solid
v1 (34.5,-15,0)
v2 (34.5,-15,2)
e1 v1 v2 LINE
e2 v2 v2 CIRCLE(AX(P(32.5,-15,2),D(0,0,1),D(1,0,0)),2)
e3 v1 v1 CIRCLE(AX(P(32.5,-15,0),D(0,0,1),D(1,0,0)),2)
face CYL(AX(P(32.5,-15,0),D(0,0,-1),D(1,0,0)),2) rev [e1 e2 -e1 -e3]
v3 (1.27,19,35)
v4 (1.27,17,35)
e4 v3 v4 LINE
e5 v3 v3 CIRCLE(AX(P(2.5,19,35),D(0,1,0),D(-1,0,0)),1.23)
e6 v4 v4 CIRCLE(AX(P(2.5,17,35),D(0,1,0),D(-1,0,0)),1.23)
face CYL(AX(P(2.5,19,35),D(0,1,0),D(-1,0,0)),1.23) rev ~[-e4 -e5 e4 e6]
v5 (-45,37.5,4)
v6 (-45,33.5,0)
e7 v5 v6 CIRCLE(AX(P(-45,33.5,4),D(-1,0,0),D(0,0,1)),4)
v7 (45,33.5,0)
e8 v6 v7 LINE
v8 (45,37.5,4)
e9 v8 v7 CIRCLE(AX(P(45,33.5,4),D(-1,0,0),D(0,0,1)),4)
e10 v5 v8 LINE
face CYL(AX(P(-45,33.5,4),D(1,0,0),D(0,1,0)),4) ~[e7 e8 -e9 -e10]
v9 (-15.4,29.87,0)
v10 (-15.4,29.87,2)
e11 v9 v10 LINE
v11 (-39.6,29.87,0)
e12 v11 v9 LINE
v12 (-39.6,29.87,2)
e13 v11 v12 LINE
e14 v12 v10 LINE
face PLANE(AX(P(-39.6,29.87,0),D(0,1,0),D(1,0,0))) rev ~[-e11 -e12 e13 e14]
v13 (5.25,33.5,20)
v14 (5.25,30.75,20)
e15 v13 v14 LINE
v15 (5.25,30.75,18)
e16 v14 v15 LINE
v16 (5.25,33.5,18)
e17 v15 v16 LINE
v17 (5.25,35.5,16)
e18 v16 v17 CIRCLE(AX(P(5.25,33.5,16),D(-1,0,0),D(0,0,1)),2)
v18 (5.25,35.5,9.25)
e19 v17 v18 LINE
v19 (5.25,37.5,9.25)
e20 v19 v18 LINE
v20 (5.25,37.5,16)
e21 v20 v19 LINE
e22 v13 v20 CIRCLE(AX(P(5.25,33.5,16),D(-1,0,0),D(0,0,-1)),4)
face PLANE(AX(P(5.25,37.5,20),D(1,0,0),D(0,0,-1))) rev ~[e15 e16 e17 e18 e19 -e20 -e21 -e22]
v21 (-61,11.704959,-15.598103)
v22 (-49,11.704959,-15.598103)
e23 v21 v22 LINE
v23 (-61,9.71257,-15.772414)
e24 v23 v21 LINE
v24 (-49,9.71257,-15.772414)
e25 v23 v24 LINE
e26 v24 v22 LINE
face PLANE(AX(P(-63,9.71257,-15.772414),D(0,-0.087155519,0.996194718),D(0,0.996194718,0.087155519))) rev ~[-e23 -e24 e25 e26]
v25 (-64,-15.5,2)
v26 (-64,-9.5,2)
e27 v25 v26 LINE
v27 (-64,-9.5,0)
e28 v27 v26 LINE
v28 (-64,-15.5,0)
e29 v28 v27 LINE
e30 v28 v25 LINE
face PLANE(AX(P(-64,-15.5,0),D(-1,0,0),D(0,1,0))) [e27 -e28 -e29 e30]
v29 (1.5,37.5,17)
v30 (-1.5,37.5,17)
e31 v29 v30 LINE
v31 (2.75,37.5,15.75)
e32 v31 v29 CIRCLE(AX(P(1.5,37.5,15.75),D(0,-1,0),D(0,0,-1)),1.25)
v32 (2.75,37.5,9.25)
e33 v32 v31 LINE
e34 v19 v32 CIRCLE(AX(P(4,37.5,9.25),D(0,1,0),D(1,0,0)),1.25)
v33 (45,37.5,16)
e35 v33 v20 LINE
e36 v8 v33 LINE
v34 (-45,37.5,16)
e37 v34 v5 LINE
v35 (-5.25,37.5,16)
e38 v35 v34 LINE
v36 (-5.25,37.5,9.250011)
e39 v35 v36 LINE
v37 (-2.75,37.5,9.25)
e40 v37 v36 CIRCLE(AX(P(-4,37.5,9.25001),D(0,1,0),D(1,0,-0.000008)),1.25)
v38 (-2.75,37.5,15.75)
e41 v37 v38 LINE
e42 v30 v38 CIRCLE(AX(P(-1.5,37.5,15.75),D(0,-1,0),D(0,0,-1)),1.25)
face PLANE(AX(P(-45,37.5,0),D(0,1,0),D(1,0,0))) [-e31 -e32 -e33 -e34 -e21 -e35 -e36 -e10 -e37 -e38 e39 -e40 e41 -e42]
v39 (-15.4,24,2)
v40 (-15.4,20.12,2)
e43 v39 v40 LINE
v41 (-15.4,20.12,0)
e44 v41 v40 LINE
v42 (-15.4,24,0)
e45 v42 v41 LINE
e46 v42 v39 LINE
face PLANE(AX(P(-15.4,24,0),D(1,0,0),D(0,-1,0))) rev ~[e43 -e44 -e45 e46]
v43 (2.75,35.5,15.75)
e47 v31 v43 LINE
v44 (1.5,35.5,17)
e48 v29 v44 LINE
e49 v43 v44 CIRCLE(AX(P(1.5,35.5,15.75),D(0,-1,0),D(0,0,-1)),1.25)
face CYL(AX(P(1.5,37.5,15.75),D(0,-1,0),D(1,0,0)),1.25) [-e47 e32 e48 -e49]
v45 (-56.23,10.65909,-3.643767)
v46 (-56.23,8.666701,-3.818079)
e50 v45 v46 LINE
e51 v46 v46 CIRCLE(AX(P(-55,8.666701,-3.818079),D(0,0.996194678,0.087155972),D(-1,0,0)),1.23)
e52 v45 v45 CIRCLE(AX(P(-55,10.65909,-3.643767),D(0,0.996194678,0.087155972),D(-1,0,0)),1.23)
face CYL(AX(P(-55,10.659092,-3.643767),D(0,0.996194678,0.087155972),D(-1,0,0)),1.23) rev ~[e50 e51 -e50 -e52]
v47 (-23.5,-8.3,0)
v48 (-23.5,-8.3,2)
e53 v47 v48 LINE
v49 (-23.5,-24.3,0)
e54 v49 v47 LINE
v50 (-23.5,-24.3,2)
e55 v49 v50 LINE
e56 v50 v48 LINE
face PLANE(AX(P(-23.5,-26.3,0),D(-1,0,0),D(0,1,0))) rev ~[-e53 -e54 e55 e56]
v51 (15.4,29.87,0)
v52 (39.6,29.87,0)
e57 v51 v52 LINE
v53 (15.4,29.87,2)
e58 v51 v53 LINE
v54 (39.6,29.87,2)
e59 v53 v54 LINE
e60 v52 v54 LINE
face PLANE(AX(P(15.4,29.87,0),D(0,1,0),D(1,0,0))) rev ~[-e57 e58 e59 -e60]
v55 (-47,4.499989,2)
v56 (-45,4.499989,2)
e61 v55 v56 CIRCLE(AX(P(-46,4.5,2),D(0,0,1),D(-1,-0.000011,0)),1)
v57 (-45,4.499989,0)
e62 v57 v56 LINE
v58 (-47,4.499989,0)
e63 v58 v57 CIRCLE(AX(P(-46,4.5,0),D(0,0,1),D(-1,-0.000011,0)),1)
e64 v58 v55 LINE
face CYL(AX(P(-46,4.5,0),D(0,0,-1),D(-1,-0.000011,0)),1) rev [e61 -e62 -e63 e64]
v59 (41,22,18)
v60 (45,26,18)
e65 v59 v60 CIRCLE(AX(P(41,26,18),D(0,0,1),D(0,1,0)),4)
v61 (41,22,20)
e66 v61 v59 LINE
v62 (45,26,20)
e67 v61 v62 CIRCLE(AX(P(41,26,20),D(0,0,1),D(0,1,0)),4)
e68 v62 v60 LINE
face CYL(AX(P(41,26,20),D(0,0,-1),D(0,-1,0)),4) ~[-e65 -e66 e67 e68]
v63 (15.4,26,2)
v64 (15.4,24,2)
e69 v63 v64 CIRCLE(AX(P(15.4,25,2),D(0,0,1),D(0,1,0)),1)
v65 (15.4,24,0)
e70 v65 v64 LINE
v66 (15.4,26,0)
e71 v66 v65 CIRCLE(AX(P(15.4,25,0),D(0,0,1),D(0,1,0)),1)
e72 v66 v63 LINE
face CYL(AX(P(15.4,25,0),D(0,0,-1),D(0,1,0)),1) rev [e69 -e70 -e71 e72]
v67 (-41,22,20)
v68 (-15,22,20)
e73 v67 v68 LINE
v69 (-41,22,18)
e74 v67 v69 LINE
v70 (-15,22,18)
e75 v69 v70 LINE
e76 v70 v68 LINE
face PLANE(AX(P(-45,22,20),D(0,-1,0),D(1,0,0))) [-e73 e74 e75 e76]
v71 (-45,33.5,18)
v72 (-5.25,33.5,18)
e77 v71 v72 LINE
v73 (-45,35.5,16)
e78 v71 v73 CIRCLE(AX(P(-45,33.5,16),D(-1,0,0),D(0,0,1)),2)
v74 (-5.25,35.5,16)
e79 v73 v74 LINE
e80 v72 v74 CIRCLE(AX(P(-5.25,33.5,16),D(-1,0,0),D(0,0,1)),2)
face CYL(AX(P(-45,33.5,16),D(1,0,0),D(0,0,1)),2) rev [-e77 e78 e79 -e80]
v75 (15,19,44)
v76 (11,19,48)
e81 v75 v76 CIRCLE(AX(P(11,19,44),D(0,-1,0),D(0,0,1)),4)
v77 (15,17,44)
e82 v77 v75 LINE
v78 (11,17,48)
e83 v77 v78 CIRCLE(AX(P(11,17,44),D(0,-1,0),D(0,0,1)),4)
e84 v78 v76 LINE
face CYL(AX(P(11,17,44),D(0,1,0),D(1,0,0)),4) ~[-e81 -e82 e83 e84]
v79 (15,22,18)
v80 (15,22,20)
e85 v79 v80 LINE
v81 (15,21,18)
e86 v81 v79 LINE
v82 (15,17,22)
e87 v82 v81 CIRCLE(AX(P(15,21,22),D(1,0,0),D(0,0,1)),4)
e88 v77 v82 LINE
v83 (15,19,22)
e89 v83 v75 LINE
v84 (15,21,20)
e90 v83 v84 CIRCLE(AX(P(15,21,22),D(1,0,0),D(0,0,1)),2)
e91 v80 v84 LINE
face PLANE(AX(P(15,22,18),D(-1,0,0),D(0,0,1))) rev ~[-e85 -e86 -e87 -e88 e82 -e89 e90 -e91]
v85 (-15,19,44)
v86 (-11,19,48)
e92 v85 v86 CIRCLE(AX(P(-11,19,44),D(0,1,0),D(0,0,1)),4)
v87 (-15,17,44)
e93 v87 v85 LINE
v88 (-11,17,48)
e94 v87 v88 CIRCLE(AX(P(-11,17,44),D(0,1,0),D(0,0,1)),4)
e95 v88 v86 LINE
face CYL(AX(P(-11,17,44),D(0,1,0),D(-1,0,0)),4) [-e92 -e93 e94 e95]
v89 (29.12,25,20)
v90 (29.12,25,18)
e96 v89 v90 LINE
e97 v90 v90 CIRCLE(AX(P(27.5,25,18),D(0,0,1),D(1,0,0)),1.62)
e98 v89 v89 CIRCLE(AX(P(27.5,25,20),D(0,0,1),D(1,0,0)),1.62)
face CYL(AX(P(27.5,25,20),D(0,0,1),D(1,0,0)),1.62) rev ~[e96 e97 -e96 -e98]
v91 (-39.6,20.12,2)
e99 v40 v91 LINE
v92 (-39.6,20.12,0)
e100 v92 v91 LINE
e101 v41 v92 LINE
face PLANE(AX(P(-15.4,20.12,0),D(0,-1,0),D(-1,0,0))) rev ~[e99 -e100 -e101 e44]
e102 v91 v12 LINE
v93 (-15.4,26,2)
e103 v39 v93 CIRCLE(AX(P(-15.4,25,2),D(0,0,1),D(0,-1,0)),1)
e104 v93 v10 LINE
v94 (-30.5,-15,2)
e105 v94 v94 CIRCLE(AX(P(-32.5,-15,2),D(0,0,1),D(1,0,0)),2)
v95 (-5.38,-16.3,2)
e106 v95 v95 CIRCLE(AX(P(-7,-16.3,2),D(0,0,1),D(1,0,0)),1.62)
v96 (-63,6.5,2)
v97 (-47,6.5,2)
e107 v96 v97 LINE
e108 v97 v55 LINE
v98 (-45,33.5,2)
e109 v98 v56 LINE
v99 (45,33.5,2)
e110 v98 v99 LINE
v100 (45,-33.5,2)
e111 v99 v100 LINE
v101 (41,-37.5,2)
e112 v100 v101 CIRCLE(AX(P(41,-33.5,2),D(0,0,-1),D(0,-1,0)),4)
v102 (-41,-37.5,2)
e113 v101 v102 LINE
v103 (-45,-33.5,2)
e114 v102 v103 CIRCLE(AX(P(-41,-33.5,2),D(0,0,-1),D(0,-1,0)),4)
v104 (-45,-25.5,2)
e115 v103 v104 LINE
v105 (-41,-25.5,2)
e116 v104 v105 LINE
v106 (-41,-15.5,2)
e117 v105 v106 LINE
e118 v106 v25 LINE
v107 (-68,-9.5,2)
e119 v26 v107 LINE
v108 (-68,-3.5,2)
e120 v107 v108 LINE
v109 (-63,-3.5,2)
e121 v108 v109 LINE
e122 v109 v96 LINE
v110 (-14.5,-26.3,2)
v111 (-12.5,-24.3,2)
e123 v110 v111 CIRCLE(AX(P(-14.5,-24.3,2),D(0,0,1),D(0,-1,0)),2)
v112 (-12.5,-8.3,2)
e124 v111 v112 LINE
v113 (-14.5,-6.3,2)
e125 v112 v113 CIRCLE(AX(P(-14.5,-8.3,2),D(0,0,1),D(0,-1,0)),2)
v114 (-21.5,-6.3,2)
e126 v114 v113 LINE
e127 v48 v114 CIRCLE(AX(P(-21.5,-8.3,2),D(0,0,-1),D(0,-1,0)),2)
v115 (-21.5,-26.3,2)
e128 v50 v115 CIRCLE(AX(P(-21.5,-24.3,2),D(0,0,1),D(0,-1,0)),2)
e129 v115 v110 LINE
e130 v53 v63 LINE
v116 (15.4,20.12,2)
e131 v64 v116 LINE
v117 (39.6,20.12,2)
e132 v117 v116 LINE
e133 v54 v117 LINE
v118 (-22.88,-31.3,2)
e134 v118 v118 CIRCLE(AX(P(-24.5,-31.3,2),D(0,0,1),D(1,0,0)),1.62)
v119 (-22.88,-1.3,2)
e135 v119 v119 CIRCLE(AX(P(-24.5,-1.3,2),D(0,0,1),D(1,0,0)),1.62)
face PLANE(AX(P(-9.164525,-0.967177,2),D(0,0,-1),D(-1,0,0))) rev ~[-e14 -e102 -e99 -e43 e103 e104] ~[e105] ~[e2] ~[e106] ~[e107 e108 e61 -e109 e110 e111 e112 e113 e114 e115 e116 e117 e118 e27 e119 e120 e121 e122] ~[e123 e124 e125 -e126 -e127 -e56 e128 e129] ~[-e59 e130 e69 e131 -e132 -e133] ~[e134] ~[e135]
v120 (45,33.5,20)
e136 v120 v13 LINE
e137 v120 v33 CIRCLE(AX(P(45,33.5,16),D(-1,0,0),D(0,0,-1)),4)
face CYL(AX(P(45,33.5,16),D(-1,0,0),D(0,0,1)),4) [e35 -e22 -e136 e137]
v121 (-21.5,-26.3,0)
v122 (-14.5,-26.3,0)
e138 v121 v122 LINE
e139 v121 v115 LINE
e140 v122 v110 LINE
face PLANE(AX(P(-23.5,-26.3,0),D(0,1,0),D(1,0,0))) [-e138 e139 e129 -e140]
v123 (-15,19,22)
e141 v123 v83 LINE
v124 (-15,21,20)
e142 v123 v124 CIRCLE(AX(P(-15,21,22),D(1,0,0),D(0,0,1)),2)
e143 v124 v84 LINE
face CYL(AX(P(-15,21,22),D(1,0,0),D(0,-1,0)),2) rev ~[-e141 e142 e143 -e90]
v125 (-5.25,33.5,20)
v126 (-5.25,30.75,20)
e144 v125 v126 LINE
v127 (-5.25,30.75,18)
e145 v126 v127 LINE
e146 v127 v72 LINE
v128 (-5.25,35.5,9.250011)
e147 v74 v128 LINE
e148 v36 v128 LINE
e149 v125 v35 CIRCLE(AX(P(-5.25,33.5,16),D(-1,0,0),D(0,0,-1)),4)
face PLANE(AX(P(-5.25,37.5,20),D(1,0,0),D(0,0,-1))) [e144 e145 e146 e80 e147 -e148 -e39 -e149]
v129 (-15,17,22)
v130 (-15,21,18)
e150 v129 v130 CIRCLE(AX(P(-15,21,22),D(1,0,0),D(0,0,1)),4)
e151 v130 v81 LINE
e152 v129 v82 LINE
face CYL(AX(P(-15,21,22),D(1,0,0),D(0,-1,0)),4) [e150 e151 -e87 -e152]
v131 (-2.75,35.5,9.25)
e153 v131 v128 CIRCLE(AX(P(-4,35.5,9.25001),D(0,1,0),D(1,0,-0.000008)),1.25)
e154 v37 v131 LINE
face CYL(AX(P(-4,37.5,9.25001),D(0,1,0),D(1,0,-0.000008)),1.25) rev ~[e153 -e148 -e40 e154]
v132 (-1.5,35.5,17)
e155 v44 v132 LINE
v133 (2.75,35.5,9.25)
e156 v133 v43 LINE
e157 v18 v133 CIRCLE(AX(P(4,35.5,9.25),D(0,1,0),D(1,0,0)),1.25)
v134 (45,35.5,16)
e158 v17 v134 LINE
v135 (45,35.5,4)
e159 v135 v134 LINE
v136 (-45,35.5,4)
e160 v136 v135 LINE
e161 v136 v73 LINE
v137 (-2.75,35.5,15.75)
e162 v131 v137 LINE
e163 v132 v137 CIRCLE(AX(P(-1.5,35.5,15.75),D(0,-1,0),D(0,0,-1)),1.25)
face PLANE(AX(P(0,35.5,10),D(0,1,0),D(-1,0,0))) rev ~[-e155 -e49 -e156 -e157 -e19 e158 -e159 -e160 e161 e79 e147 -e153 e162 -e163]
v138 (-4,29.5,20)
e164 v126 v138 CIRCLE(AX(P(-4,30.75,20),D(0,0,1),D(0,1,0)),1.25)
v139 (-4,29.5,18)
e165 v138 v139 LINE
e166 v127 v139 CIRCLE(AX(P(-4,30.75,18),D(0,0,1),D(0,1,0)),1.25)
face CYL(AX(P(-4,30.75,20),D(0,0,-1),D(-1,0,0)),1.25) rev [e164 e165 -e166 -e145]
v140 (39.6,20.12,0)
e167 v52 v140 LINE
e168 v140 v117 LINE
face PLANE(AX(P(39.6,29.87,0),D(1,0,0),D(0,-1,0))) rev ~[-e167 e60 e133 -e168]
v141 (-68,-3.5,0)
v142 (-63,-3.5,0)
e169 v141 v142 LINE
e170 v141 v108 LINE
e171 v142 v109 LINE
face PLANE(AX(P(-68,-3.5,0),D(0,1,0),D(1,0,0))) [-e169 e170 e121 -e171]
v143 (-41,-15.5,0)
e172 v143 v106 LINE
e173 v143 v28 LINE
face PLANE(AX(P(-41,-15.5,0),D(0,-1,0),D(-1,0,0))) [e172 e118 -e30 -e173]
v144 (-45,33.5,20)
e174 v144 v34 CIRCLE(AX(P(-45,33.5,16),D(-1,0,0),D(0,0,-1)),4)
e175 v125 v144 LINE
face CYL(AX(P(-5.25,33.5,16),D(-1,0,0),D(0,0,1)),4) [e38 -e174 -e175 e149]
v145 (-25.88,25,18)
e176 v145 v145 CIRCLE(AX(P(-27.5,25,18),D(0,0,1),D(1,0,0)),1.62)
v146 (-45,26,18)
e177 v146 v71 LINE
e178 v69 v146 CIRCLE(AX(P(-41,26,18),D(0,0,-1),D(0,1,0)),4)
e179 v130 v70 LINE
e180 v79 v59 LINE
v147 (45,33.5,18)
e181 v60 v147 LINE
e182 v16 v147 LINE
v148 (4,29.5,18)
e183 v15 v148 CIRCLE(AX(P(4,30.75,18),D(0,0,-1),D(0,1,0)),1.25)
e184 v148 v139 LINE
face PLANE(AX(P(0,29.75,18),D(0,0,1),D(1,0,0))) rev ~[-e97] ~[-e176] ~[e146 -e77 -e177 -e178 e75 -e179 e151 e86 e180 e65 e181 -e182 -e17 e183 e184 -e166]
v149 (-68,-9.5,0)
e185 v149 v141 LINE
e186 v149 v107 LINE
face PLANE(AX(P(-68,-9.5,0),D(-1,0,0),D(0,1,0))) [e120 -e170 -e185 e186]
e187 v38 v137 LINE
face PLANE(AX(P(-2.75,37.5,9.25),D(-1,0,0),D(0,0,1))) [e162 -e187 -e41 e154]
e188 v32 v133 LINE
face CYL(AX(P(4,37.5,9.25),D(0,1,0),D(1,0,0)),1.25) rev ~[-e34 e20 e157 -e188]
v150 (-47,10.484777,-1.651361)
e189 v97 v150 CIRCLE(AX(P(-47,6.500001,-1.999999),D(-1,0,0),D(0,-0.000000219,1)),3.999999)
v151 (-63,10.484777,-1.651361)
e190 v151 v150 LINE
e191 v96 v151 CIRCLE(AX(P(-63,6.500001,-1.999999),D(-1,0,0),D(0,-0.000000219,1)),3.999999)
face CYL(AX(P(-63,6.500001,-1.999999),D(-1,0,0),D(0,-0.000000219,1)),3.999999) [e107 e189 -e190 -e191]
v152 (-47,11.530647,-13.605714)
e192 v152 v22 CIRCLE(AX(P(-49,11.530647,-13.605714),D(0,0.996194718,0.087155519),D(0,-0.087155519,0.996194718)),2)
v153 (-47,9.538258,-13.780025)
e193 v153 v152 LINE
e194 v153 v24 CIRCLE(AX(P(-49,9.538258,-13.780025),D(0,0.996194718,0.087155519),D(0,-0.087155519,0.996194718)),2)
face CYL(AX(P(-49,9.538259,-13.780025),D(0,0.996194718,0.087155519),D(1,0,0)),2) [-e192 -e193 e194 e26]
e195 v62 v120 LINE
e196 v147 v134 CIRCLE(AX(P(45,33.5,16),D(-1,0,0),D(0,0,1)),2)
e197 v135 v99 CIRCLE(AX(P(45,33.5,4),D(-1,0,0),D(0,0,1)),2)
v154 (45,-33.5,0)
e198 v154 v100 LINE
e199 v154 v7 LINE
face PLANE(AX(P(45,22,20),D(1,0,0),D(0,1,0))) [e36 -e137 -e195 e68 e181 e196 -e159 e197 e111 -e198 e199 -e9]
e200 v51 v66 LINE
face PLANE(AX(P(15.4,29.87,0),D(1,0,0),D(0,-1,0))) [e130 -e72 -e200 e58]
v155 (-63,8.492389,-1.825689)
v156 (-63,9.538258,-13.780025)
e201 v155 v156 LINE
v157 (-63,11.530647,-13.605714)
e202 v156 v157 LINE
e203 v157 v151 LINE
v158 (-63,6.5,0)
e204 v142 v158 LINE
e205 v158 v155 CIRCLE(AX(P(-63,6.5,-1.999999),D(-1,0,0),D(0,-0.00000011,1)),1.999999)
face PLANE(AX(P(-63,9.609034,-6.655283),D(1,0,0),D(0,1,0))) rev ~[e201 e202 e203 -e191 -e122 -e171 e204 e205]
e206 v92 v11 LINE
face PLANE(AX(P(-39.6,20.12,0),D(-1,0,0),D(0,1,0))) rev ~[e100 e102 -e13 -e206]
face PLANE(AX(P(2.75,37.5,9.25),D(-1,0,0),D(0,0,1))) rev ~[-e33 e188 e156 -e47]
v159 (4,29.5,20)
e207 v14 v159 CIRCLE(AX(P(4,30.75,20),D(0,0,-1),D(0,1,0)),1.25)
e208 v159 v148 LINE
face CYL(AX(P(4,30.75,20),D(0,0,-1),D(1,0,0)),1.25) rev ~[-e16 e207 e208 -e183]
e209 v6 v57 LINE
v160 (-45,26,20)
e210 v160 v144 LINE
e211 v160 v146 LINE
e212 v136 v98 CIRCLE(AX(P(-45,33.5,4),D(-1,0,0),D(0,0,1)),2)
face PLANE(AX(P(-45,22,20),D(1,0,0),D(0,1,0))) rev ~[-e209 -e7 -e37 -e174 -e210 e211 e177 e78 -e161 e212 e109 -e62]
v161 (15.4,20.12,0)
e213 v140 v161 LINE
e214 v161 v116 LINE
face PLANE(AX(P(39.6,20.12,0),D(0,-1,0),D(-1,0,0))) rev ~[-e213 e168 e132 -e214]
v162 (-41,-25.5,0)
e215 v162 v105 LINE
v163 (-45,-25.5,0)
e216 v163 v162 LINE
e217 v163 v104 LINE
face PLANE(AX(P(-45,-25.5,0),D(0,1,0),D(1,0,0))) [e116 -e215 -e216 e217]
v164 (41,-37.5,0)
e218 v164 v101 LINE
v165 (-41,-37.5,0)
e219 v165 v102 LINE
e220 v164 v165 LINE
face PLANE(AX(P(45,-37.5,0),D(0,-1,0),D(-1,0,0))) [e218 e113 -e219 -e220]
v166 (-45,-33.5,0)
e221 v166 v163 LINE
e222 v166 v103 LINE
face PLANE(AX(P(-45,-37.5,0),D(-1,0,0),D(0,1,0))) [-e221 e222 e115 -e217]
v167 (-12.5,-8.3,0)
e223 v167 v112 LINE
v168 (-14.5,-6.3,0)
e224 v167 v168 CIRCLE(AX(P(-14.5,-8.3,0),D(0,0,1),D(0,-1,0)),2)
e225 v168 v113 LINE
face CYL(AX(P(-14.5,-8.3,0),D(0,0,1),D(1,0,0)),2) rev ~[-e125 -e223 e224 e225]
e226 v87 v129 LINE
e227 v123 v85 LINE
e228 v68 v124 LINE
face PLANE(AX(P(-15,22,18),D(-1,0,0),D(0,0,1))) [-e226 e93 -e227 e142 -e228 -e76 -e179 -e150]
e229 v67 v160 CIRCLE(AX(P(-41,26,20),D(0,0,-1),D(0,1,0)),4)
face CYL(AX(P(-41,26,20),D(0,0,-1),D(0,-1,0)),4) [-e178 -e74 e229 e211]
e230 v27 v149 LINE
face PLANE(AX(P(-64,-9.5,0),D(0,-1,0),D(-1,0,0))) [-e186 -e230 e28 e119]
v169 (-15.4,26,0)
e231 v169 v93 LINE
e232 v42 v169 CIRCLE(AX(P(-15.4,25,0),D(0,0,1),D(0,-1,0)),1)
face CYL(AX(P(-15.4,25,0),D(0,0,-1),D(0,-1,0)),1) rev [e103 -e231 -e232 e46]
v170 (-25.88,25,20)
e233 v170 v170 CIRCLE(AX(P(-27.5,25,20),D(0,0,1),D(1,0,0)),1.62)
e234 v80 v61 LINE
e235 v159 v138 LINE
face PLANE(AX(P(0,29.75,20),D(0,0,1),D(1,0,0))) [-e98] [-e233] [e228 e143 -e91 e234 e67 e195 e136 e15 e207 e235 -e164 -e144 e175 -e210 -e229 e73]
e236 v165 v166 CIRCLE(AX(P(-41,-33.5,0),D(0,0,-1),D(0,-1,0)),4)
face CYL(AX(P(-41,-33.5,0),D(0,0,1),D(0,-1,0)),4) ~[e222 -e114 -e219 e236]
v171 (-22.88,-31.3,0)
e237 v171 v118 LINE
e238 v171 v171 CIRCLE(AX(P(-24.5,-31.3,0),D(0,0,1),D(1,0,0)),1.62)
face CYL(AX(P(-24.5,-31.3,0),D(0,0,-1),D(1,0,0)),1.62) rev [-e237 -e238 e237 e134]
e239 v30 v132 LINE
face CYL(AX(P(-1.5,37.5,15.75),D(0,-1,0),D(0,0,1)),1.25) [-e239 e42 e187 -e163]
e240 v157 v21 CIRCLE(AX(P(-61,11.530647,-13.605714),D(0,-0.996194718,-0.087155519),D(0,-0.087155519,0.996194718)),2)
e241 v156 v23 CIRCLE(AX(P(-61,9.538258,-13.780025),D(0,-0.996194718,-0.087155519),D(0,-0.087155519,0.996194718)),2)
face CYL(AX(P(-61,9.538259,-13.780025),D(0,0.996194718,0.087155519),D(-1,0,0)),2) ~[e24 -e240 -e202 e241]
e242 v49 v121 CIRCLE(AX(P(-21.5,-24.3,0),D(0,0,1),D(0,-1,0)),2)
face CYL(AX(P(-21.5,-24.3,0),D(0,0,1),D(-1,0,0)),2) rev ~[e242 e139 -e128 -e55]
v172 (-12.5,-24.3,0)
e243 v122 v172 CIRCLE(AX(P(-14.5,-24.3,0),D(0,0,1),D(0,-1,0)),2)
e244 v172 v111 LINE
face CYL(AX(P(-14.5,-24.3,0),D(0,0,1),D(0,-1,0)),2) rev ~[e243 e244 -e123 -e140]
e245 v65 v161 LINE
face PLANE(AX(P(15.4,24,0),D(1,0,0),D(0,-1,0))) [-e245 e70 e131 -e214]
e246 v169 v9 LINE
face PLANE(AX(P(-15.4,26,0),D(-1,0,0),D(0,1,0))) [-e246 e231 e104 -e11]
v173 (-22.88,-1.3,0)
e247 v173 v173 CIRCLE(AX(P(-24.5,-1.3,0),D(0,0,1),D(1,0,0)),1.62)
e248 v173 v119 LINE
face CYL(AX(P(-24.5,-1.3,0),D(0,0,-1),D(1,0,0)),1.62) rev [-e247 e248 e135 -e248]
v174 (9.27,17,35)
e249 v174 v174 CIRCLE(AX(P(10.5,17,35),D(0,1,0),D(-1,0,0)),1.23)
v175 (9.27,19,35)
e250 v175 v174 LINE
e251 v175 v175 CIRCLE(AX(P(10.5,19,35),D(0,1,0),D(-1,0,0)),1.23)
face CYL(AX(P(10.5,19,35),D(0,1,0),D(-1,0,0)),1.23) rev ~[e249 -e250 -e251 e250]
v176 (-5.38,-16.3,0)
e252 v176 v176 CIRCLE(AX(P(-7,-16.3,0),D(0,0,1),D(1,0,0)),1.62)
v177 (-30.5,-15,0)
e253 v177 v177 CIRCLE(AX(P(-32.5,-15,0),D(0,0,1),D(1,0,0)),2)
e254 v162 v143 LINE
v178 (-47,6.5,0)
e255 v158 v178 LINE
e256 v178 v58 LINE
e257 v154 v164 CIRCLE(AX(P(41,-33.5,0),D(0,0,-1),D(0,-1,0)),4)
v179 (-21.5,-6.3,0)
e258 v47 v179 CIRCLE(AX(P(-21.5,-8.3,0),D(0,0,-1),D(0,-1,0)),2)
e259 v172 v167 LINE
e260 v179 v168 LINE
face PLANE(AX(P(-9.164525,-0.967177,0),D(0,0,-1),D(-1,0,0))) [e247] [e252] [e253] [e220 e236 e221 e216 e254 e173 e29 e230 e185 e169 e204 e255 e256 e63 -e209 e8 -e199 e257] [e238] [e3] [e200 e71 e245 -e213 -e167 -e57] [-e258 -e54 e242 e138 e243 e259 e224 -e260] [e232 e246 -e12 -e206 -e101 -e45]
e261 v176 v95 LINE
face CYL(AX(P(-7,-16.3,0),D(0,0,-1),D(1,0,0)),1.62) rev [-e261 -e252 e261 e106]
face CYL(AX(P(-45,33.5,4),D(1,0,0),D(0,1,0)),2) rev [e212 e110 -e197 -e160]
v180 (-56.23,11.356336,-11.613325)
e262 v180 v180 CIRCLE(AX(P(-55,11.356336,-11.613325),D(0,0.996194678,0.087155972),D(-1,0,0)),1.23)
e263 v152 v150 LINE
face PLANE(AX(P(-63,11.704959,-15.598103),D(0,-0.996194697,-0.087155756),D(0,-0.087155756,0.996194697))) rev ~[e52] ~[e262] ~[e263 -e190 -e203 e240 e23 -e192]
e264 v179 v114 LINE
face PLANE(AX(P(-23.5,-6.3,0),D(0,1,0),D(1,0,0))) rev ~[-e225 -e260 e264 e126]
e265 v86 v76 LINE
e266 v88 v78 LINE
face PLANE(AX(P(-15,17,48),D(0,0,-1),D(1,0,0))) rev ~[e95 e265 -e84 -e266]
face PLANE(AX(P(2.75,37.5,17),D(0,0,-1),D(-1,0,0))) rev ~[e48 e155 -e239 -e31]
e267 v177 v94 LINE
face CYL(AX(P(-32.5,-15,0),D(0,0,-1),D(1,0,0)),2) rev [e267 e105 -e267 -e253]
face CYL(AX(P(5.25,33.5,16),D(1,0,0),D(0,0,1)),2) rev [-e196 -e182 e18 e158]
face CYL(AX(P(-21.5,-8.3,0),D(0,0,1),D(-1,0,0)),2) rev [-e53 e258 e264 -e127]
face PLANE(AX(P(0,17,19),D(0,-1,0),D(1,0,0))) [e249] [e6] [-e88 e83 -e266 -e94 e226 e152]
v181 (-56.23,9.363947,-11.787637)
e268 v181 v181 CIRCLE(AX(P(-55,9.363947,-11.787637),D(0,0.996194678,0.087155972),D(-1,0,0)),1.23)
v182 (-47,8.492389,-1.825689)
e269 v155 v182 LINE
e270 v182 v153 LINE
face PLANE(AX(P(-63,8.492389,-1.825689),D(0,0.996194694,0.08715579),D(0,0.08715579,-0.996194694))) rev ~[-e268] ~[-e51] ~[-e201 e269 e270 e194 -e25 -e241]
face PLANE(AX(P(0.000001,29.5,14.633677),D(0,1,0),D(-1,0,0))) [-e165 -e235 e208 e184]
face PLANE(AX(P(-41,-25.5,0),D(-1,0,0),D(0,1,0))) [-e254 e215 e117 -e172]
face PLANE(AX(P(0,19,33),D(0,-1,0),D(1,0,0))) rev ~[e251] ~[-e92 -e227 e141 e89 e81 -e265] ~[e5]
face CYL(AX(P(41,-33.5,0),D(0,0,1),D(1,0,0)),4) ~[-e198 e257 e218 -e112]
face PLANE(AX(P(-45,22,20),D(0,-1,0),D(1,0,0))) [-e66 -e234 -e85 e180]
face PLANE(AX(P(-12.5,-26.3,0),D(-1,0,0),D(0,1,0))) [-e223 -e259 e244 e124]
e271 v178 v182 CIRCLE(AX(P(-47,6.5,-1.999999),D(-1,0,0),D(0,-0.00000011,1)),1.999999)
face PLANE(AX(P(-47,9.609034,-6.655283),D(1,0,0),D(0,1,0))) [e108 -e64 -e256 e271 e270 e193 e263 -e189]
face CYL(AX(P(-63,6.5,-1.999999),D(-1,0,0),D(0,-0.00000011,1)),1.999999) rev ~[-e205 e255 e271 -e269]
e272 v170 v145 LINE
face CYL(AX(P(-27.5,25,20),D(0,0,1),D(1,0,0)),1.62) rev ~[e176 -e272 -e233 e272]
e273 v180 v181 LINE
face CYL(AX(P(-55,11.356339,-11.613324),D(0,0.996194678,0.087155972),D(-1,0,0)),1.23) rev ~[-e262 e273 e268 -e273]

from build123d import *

# Parameters (mm, degrees)
SKETCH_R        = 2
SKETCH_R_2      = 1.62
SKETCH_W        = 11
SKETCH_H        = 20
PAD_DEPTH       = 2
SKETCH001_W     = 90
SKETCH001_H     = 20
PAD001_DEPTH    = 2
SKETCH002_W     = 90
SKETCH002_H     = 15.5
PAD002_DEPTH    = 2
SKETCH003_W     = 30
SKETCH003_H     = 2
PAD003_DEPTH    = 5
SKETCH004_W     = 30
SKETCH004_H     = 30
PAD004_DEPTH    = 2
PAD005_DEPTH    = 16
SKETCH006_R     = 1.23
POCKET_DEPTH    = 5
SKETCH007_R     = 1.23
POCKET001_DEPTH = 5
SKETCH008_R     = 1.62
POCKET002_DEPTH = 5
POCKET003_DEPTH = 8
FILLET_R        = 1.25
FILLET001_R     = 4
FILLET002_R     = 2
FILLET003_R     = 4
FILLET004_R     = 4
FILLET005_R     = 4
FILLET006_R     = 2
FILLET007_R     = 2
FILLET008_R     = 4
FILLET009_R     = 2


with BuildPart() as part:
    # Sketch → Pad (new body)
    with BuildSketch(Plane.XY):
        with BuildLine():
            Line((-45, 37.5), (45, 37.5))
            Line((45, 37.5), (45, -37.5))
            Line((45, -37.5), (-45, -37.5))
            Line((-45, -37.5), (-45, -25.5))
            Line((-45, -25.5), (-41, -25.5))
            Line((-41, -25.5), (-41, -15.5))
            Line((-41, -15.5), (-64, -15.5))
            Line((-64, -15.5), (-64, -9.5))
            Line((-64, -9.5), (-68, -9.5))
            Line((-68, -9.5), (-68, -3.5))
            Line((-68, -3.5), (-63, -3.5))
            Line((-63, -3.5), (-63, 6.5))
            Line((-63, 6.5), (-47, 6.5))
            Line((-47, 6.5), (-47, 4.499989))
            ThreePointArc((-47, 4.499989), (-46, 3.5), (-45, 4.499989))
            Line((-45, 37.5), (-45, 4.499989))
        make_face()
        with Locations((-32.5, -15)):
            Circle(SKETCH_R, mode=Mode.SUBTRACT)
        with Locations((32.5, -15)):
            Circle(SKETCH_R, mode=Mode.SUBTRACT)
        with Locations((-24.5, -31.3)):
            Circle(SKETCH_R_2, mode=Mode.SUBTRACT)
        with Locations((-24.5, -1.3)):
            Circle(SKETCH_R_2, mode=Mode.SUBTRACT)
        with Locations((-7, -16.3)):
            Circle(SKETCH_R_2, mode=Mode.SUBTRACT)
        with BuildLine():
            Line((-39.6, 29.87), (-15.4, 29.87))
            Line((-15.4, 26), (-15.4, 29.87))
            ThreePointArc((-15.4, 24), (-14.4, 25), (-15.4, 26))
            Line((-15.4, 24), (-15.4, 20.12))
            Line((-15.4, 20.12), (-39.6, 20.12))
            Line((-39.6, 20.12), (-39.6, 29.87))
        make_face(mode=Mode.SUBTRACT)
        with BuildLine():
            Line((15.4, 29.87), (39.6, 29.87))
            Line((39.6, 29.87), (39.6, 20.12))
            Line((39.6, 20.12), (15.4, 20.12))
            Line((15.4, 24), (15.4, 20.12))
            ThreePointArc((15.4, 26), (14.4, 25), (15.4, 24))
            Line((15.4, 29.87), (15.4, 26))
        make_face(mode=Mode.SUBTRACT)
        with Locations((-18, -16.3)):
            Rectangle(SKETCH_W, SKETCH_H, mode=Mode.SUBTRACT)
    extrude(amount=PAD_DEPTH)

    # Sketch001 → Pad001 (new body)
    with BuildSketch(Plane(origin=(0, 37.5, 0), x_dir=(-1, 0, 0), z_dir=(0, 1, 0))):
        with Locations((0, 10)):
            Rectangle(SKETCH001_W, SKETCH001_H)
    extrude(amount=-PAD001_DEPTH)

    # Sketch002 → Pad002 (new body)
    with BuildSketch(Plane.XY.offset(20)):
        with Locations((0, 29.75)):
            Rectangle(SKETCH002_W, SKETCH002_H)
    extrude(amount=-PAD002_DEPTH)

    # Sketch003 → Pad003 (new body)
    with BuildSketch(Plane.XZ.offset(-22)):
        with Locations((0, 19)):
            Rectangle(SKETCH003_W, SKETCH003_H)
    extrude(amount=PAD003_DEPTH)

    # Sketch004 → Pad004 (new body)
    with BuildSketch(Plane.XZ.offset(-17)):
        with Locations((0, 33)):
            Rectangle(SKETCH004_W, SKETCH004_H)
    extrude(amount=-PAD004_DEPTH)

    # Sketch005 → Pad005 (new body)
    with BuildSketch(Plane(origin=(-63, 0, 0), x_dir=(0, -1, 0), z_dir=(-1, 0, 0))):
        with BuildLine():
            ThreePointArc((-6.5, 0), (-7.85118, -0.525445), (-8.492389, -1.825689))
            Line((-8.492389, -1.825689), (-9.71257, -15.772414))
            Line((-9.71257, -15.772414), (-11.704959, -15.598103))
            Line((-11.704959, -15.598103), (-10.484777, -1.651361))
            ThreePointArc((-6.5, 2), (-9.202355, 0.949115), (-10.484777, -1.651361))
            Line((-6.5, 2), (-6.5, 0))
        make_face()
    extrude(amount=-PAD005_DEPTH)

    # Sketch006 → Pocket (cut)
    with BuildSketch(Plane(origin=(0, 19, 0), x_dir=(-1, 0, 0), z_dir=(0, 1, 0))):
        with Locations((-10.5, 35)):
            Circle(SKETCH006_R)
        with Locations((-2.5, 35)):
            Circle(SKETCH006_R)
    extrude(amount=-POCKET_DEPTH, mode=Mode.SUBTRACT)

    # Sketch007 → Pocket001 (cut)
    with BuildSketch(Plane(origin=(0, 10.261756, 0.897787), x_dir=(-1, 0, 0), z_dir=(0, 0.996195, 0.087156))):
        with Locations((55, -4.558902)):
            Circle(SKETCH007_R)
        with Locations((55, -12.558902)):
            Circle(SKETCH007_R)
    extrude(amount=-POCKET001_DEPTH, mode=Mode.SUBTRACT)

    # Sketch008 → Pocket002 (cut)
    with BuildSketch(Plane.XY.offset(20)):
        with Locations((-27.5, 25)):
            Circle(SKETCH008_R)
        with Locations((27.5, 25)):
            Circle(SKETCH008_R)
    extrude(amount=-POCKET002_DEPTH, mode=Mode.SUBTRACT)

    # Sketch009 → Pocket003 (cut)
    with BuildSketch(Plane(origin=(0, 37.5, 0), x_dir=(-1, 0, 0), z_dir=(0, 1, 0))):
        with BuildLine():
            Line((-5.25, 20), (-5.25, 9.25))
            ThreePointArc((-5.25, 9.25), (-4, 8), (-2.75, 9.25))
            Line((-2.75, 9.25), (-2.75, 17))
            Line((-2.75, 17), (2.75, 17))
            Line((2.75, 9.25), (2.75, 17))
            ThreePointArc((2.75, 9.25), (4.000005, 8.00001), (5.25, 9.250011))
            Line((5.25, 20), (5.25, 9.250011))
            Line((-5.25, 20), (5.25, 20))
        make_face()
    extrude(amount=-POCKET003_DEPTH, mode=Mode.SUBTRACT)

    # Fillet
    fillet_edges = [part.edges().sort_by_distance(p)[0] for p in [
        (-2.75, 36.5, 17),
        (2.75, 36.5, 17),
        (5.25, 29.5, 19),
        (-5.25, 29.5, 19),
    ]]
    fillet(fillet_edges, radius=FILLET_R)

    # Fillet001
    fillet001_edges = [part.edges().sort_by_distance(p)[0] for p in [
        (-15, 18, 48),
        (15, 18, 48),
    ]]
    fillet(fillet001_edges, radius=FILLET001_R)

    # Fillet002
    fillet002_edges = [part.edges().sort_by_distance(p)[0] for p in [
        (0, 19, 20),
    ]]
    fillet(fillet002_edges, radius=FILLET002_R)

    # Fillet003
    fillet003_edges = [part.edges().sort_by_distance(p)[0] for p in [
        (0, 17, 18),
    ]]
    fillet(fillet003_edges, radius=FILLET003_R)

    # Fillet004
    fillet004_edges = [part.edges().sort_by_distance(p)[0] for p in [
        (-45, 22, 19),
        (45, 22, 19),
    ]]
    fillet(fillet004_edges, radius=FILLET004_R)

    # Fillet005
    fillet005_edges = [part.edges().sort_by_distance(p)[0] for p in [
        (25.125, 37.5, 20),
        (0, 37.5, 0),
        (-25.125, 37.5, 20),
    ]]
    fillet(fillet005_edges, radius=FILLET005_R)

    # Fillet006
    fillet006_edges = [part.edges().sort_by_distance(p)[0] for p in [
        (-25.125, 35.5, 18),
        (25.125, 35.5, 18),
        (0, 35.5, 2),
    ]]
    fillet(fillet006_edges, radius=FILLET006_R)

    # Fillet007
    fillet007_edges = [part.edges().sort_by_distance(p)[0] for p in [
        (-63, 10.708764, -15.685259),
        (-47, 10.708764, -15.685259),
    ]]
    fillet(fillet007_edges, radius=FILLET007_R)

    # Fillet008
    fillet008_edges = [part.edges().sort_by_distance(p)[0] for p in [
        (-45, -37.5, 1),
        (45, -37.5, 1),
    ]]
    fillet(fillet008_edges, radius=FILLET008_R)

    # Fillet009
    fillet009_edges = [part.edges().sort_by_distance(p)[0] for p in [
        (-12.5, -6.3, 1),
        (-23.5, -6.3, 1),
        (-23.5, -26.3, 1),
        (-12.5, -26.3, 1),
    ]]
    fillet(fillet009_edges, radius=FILLET009_R)


solid = part.part
